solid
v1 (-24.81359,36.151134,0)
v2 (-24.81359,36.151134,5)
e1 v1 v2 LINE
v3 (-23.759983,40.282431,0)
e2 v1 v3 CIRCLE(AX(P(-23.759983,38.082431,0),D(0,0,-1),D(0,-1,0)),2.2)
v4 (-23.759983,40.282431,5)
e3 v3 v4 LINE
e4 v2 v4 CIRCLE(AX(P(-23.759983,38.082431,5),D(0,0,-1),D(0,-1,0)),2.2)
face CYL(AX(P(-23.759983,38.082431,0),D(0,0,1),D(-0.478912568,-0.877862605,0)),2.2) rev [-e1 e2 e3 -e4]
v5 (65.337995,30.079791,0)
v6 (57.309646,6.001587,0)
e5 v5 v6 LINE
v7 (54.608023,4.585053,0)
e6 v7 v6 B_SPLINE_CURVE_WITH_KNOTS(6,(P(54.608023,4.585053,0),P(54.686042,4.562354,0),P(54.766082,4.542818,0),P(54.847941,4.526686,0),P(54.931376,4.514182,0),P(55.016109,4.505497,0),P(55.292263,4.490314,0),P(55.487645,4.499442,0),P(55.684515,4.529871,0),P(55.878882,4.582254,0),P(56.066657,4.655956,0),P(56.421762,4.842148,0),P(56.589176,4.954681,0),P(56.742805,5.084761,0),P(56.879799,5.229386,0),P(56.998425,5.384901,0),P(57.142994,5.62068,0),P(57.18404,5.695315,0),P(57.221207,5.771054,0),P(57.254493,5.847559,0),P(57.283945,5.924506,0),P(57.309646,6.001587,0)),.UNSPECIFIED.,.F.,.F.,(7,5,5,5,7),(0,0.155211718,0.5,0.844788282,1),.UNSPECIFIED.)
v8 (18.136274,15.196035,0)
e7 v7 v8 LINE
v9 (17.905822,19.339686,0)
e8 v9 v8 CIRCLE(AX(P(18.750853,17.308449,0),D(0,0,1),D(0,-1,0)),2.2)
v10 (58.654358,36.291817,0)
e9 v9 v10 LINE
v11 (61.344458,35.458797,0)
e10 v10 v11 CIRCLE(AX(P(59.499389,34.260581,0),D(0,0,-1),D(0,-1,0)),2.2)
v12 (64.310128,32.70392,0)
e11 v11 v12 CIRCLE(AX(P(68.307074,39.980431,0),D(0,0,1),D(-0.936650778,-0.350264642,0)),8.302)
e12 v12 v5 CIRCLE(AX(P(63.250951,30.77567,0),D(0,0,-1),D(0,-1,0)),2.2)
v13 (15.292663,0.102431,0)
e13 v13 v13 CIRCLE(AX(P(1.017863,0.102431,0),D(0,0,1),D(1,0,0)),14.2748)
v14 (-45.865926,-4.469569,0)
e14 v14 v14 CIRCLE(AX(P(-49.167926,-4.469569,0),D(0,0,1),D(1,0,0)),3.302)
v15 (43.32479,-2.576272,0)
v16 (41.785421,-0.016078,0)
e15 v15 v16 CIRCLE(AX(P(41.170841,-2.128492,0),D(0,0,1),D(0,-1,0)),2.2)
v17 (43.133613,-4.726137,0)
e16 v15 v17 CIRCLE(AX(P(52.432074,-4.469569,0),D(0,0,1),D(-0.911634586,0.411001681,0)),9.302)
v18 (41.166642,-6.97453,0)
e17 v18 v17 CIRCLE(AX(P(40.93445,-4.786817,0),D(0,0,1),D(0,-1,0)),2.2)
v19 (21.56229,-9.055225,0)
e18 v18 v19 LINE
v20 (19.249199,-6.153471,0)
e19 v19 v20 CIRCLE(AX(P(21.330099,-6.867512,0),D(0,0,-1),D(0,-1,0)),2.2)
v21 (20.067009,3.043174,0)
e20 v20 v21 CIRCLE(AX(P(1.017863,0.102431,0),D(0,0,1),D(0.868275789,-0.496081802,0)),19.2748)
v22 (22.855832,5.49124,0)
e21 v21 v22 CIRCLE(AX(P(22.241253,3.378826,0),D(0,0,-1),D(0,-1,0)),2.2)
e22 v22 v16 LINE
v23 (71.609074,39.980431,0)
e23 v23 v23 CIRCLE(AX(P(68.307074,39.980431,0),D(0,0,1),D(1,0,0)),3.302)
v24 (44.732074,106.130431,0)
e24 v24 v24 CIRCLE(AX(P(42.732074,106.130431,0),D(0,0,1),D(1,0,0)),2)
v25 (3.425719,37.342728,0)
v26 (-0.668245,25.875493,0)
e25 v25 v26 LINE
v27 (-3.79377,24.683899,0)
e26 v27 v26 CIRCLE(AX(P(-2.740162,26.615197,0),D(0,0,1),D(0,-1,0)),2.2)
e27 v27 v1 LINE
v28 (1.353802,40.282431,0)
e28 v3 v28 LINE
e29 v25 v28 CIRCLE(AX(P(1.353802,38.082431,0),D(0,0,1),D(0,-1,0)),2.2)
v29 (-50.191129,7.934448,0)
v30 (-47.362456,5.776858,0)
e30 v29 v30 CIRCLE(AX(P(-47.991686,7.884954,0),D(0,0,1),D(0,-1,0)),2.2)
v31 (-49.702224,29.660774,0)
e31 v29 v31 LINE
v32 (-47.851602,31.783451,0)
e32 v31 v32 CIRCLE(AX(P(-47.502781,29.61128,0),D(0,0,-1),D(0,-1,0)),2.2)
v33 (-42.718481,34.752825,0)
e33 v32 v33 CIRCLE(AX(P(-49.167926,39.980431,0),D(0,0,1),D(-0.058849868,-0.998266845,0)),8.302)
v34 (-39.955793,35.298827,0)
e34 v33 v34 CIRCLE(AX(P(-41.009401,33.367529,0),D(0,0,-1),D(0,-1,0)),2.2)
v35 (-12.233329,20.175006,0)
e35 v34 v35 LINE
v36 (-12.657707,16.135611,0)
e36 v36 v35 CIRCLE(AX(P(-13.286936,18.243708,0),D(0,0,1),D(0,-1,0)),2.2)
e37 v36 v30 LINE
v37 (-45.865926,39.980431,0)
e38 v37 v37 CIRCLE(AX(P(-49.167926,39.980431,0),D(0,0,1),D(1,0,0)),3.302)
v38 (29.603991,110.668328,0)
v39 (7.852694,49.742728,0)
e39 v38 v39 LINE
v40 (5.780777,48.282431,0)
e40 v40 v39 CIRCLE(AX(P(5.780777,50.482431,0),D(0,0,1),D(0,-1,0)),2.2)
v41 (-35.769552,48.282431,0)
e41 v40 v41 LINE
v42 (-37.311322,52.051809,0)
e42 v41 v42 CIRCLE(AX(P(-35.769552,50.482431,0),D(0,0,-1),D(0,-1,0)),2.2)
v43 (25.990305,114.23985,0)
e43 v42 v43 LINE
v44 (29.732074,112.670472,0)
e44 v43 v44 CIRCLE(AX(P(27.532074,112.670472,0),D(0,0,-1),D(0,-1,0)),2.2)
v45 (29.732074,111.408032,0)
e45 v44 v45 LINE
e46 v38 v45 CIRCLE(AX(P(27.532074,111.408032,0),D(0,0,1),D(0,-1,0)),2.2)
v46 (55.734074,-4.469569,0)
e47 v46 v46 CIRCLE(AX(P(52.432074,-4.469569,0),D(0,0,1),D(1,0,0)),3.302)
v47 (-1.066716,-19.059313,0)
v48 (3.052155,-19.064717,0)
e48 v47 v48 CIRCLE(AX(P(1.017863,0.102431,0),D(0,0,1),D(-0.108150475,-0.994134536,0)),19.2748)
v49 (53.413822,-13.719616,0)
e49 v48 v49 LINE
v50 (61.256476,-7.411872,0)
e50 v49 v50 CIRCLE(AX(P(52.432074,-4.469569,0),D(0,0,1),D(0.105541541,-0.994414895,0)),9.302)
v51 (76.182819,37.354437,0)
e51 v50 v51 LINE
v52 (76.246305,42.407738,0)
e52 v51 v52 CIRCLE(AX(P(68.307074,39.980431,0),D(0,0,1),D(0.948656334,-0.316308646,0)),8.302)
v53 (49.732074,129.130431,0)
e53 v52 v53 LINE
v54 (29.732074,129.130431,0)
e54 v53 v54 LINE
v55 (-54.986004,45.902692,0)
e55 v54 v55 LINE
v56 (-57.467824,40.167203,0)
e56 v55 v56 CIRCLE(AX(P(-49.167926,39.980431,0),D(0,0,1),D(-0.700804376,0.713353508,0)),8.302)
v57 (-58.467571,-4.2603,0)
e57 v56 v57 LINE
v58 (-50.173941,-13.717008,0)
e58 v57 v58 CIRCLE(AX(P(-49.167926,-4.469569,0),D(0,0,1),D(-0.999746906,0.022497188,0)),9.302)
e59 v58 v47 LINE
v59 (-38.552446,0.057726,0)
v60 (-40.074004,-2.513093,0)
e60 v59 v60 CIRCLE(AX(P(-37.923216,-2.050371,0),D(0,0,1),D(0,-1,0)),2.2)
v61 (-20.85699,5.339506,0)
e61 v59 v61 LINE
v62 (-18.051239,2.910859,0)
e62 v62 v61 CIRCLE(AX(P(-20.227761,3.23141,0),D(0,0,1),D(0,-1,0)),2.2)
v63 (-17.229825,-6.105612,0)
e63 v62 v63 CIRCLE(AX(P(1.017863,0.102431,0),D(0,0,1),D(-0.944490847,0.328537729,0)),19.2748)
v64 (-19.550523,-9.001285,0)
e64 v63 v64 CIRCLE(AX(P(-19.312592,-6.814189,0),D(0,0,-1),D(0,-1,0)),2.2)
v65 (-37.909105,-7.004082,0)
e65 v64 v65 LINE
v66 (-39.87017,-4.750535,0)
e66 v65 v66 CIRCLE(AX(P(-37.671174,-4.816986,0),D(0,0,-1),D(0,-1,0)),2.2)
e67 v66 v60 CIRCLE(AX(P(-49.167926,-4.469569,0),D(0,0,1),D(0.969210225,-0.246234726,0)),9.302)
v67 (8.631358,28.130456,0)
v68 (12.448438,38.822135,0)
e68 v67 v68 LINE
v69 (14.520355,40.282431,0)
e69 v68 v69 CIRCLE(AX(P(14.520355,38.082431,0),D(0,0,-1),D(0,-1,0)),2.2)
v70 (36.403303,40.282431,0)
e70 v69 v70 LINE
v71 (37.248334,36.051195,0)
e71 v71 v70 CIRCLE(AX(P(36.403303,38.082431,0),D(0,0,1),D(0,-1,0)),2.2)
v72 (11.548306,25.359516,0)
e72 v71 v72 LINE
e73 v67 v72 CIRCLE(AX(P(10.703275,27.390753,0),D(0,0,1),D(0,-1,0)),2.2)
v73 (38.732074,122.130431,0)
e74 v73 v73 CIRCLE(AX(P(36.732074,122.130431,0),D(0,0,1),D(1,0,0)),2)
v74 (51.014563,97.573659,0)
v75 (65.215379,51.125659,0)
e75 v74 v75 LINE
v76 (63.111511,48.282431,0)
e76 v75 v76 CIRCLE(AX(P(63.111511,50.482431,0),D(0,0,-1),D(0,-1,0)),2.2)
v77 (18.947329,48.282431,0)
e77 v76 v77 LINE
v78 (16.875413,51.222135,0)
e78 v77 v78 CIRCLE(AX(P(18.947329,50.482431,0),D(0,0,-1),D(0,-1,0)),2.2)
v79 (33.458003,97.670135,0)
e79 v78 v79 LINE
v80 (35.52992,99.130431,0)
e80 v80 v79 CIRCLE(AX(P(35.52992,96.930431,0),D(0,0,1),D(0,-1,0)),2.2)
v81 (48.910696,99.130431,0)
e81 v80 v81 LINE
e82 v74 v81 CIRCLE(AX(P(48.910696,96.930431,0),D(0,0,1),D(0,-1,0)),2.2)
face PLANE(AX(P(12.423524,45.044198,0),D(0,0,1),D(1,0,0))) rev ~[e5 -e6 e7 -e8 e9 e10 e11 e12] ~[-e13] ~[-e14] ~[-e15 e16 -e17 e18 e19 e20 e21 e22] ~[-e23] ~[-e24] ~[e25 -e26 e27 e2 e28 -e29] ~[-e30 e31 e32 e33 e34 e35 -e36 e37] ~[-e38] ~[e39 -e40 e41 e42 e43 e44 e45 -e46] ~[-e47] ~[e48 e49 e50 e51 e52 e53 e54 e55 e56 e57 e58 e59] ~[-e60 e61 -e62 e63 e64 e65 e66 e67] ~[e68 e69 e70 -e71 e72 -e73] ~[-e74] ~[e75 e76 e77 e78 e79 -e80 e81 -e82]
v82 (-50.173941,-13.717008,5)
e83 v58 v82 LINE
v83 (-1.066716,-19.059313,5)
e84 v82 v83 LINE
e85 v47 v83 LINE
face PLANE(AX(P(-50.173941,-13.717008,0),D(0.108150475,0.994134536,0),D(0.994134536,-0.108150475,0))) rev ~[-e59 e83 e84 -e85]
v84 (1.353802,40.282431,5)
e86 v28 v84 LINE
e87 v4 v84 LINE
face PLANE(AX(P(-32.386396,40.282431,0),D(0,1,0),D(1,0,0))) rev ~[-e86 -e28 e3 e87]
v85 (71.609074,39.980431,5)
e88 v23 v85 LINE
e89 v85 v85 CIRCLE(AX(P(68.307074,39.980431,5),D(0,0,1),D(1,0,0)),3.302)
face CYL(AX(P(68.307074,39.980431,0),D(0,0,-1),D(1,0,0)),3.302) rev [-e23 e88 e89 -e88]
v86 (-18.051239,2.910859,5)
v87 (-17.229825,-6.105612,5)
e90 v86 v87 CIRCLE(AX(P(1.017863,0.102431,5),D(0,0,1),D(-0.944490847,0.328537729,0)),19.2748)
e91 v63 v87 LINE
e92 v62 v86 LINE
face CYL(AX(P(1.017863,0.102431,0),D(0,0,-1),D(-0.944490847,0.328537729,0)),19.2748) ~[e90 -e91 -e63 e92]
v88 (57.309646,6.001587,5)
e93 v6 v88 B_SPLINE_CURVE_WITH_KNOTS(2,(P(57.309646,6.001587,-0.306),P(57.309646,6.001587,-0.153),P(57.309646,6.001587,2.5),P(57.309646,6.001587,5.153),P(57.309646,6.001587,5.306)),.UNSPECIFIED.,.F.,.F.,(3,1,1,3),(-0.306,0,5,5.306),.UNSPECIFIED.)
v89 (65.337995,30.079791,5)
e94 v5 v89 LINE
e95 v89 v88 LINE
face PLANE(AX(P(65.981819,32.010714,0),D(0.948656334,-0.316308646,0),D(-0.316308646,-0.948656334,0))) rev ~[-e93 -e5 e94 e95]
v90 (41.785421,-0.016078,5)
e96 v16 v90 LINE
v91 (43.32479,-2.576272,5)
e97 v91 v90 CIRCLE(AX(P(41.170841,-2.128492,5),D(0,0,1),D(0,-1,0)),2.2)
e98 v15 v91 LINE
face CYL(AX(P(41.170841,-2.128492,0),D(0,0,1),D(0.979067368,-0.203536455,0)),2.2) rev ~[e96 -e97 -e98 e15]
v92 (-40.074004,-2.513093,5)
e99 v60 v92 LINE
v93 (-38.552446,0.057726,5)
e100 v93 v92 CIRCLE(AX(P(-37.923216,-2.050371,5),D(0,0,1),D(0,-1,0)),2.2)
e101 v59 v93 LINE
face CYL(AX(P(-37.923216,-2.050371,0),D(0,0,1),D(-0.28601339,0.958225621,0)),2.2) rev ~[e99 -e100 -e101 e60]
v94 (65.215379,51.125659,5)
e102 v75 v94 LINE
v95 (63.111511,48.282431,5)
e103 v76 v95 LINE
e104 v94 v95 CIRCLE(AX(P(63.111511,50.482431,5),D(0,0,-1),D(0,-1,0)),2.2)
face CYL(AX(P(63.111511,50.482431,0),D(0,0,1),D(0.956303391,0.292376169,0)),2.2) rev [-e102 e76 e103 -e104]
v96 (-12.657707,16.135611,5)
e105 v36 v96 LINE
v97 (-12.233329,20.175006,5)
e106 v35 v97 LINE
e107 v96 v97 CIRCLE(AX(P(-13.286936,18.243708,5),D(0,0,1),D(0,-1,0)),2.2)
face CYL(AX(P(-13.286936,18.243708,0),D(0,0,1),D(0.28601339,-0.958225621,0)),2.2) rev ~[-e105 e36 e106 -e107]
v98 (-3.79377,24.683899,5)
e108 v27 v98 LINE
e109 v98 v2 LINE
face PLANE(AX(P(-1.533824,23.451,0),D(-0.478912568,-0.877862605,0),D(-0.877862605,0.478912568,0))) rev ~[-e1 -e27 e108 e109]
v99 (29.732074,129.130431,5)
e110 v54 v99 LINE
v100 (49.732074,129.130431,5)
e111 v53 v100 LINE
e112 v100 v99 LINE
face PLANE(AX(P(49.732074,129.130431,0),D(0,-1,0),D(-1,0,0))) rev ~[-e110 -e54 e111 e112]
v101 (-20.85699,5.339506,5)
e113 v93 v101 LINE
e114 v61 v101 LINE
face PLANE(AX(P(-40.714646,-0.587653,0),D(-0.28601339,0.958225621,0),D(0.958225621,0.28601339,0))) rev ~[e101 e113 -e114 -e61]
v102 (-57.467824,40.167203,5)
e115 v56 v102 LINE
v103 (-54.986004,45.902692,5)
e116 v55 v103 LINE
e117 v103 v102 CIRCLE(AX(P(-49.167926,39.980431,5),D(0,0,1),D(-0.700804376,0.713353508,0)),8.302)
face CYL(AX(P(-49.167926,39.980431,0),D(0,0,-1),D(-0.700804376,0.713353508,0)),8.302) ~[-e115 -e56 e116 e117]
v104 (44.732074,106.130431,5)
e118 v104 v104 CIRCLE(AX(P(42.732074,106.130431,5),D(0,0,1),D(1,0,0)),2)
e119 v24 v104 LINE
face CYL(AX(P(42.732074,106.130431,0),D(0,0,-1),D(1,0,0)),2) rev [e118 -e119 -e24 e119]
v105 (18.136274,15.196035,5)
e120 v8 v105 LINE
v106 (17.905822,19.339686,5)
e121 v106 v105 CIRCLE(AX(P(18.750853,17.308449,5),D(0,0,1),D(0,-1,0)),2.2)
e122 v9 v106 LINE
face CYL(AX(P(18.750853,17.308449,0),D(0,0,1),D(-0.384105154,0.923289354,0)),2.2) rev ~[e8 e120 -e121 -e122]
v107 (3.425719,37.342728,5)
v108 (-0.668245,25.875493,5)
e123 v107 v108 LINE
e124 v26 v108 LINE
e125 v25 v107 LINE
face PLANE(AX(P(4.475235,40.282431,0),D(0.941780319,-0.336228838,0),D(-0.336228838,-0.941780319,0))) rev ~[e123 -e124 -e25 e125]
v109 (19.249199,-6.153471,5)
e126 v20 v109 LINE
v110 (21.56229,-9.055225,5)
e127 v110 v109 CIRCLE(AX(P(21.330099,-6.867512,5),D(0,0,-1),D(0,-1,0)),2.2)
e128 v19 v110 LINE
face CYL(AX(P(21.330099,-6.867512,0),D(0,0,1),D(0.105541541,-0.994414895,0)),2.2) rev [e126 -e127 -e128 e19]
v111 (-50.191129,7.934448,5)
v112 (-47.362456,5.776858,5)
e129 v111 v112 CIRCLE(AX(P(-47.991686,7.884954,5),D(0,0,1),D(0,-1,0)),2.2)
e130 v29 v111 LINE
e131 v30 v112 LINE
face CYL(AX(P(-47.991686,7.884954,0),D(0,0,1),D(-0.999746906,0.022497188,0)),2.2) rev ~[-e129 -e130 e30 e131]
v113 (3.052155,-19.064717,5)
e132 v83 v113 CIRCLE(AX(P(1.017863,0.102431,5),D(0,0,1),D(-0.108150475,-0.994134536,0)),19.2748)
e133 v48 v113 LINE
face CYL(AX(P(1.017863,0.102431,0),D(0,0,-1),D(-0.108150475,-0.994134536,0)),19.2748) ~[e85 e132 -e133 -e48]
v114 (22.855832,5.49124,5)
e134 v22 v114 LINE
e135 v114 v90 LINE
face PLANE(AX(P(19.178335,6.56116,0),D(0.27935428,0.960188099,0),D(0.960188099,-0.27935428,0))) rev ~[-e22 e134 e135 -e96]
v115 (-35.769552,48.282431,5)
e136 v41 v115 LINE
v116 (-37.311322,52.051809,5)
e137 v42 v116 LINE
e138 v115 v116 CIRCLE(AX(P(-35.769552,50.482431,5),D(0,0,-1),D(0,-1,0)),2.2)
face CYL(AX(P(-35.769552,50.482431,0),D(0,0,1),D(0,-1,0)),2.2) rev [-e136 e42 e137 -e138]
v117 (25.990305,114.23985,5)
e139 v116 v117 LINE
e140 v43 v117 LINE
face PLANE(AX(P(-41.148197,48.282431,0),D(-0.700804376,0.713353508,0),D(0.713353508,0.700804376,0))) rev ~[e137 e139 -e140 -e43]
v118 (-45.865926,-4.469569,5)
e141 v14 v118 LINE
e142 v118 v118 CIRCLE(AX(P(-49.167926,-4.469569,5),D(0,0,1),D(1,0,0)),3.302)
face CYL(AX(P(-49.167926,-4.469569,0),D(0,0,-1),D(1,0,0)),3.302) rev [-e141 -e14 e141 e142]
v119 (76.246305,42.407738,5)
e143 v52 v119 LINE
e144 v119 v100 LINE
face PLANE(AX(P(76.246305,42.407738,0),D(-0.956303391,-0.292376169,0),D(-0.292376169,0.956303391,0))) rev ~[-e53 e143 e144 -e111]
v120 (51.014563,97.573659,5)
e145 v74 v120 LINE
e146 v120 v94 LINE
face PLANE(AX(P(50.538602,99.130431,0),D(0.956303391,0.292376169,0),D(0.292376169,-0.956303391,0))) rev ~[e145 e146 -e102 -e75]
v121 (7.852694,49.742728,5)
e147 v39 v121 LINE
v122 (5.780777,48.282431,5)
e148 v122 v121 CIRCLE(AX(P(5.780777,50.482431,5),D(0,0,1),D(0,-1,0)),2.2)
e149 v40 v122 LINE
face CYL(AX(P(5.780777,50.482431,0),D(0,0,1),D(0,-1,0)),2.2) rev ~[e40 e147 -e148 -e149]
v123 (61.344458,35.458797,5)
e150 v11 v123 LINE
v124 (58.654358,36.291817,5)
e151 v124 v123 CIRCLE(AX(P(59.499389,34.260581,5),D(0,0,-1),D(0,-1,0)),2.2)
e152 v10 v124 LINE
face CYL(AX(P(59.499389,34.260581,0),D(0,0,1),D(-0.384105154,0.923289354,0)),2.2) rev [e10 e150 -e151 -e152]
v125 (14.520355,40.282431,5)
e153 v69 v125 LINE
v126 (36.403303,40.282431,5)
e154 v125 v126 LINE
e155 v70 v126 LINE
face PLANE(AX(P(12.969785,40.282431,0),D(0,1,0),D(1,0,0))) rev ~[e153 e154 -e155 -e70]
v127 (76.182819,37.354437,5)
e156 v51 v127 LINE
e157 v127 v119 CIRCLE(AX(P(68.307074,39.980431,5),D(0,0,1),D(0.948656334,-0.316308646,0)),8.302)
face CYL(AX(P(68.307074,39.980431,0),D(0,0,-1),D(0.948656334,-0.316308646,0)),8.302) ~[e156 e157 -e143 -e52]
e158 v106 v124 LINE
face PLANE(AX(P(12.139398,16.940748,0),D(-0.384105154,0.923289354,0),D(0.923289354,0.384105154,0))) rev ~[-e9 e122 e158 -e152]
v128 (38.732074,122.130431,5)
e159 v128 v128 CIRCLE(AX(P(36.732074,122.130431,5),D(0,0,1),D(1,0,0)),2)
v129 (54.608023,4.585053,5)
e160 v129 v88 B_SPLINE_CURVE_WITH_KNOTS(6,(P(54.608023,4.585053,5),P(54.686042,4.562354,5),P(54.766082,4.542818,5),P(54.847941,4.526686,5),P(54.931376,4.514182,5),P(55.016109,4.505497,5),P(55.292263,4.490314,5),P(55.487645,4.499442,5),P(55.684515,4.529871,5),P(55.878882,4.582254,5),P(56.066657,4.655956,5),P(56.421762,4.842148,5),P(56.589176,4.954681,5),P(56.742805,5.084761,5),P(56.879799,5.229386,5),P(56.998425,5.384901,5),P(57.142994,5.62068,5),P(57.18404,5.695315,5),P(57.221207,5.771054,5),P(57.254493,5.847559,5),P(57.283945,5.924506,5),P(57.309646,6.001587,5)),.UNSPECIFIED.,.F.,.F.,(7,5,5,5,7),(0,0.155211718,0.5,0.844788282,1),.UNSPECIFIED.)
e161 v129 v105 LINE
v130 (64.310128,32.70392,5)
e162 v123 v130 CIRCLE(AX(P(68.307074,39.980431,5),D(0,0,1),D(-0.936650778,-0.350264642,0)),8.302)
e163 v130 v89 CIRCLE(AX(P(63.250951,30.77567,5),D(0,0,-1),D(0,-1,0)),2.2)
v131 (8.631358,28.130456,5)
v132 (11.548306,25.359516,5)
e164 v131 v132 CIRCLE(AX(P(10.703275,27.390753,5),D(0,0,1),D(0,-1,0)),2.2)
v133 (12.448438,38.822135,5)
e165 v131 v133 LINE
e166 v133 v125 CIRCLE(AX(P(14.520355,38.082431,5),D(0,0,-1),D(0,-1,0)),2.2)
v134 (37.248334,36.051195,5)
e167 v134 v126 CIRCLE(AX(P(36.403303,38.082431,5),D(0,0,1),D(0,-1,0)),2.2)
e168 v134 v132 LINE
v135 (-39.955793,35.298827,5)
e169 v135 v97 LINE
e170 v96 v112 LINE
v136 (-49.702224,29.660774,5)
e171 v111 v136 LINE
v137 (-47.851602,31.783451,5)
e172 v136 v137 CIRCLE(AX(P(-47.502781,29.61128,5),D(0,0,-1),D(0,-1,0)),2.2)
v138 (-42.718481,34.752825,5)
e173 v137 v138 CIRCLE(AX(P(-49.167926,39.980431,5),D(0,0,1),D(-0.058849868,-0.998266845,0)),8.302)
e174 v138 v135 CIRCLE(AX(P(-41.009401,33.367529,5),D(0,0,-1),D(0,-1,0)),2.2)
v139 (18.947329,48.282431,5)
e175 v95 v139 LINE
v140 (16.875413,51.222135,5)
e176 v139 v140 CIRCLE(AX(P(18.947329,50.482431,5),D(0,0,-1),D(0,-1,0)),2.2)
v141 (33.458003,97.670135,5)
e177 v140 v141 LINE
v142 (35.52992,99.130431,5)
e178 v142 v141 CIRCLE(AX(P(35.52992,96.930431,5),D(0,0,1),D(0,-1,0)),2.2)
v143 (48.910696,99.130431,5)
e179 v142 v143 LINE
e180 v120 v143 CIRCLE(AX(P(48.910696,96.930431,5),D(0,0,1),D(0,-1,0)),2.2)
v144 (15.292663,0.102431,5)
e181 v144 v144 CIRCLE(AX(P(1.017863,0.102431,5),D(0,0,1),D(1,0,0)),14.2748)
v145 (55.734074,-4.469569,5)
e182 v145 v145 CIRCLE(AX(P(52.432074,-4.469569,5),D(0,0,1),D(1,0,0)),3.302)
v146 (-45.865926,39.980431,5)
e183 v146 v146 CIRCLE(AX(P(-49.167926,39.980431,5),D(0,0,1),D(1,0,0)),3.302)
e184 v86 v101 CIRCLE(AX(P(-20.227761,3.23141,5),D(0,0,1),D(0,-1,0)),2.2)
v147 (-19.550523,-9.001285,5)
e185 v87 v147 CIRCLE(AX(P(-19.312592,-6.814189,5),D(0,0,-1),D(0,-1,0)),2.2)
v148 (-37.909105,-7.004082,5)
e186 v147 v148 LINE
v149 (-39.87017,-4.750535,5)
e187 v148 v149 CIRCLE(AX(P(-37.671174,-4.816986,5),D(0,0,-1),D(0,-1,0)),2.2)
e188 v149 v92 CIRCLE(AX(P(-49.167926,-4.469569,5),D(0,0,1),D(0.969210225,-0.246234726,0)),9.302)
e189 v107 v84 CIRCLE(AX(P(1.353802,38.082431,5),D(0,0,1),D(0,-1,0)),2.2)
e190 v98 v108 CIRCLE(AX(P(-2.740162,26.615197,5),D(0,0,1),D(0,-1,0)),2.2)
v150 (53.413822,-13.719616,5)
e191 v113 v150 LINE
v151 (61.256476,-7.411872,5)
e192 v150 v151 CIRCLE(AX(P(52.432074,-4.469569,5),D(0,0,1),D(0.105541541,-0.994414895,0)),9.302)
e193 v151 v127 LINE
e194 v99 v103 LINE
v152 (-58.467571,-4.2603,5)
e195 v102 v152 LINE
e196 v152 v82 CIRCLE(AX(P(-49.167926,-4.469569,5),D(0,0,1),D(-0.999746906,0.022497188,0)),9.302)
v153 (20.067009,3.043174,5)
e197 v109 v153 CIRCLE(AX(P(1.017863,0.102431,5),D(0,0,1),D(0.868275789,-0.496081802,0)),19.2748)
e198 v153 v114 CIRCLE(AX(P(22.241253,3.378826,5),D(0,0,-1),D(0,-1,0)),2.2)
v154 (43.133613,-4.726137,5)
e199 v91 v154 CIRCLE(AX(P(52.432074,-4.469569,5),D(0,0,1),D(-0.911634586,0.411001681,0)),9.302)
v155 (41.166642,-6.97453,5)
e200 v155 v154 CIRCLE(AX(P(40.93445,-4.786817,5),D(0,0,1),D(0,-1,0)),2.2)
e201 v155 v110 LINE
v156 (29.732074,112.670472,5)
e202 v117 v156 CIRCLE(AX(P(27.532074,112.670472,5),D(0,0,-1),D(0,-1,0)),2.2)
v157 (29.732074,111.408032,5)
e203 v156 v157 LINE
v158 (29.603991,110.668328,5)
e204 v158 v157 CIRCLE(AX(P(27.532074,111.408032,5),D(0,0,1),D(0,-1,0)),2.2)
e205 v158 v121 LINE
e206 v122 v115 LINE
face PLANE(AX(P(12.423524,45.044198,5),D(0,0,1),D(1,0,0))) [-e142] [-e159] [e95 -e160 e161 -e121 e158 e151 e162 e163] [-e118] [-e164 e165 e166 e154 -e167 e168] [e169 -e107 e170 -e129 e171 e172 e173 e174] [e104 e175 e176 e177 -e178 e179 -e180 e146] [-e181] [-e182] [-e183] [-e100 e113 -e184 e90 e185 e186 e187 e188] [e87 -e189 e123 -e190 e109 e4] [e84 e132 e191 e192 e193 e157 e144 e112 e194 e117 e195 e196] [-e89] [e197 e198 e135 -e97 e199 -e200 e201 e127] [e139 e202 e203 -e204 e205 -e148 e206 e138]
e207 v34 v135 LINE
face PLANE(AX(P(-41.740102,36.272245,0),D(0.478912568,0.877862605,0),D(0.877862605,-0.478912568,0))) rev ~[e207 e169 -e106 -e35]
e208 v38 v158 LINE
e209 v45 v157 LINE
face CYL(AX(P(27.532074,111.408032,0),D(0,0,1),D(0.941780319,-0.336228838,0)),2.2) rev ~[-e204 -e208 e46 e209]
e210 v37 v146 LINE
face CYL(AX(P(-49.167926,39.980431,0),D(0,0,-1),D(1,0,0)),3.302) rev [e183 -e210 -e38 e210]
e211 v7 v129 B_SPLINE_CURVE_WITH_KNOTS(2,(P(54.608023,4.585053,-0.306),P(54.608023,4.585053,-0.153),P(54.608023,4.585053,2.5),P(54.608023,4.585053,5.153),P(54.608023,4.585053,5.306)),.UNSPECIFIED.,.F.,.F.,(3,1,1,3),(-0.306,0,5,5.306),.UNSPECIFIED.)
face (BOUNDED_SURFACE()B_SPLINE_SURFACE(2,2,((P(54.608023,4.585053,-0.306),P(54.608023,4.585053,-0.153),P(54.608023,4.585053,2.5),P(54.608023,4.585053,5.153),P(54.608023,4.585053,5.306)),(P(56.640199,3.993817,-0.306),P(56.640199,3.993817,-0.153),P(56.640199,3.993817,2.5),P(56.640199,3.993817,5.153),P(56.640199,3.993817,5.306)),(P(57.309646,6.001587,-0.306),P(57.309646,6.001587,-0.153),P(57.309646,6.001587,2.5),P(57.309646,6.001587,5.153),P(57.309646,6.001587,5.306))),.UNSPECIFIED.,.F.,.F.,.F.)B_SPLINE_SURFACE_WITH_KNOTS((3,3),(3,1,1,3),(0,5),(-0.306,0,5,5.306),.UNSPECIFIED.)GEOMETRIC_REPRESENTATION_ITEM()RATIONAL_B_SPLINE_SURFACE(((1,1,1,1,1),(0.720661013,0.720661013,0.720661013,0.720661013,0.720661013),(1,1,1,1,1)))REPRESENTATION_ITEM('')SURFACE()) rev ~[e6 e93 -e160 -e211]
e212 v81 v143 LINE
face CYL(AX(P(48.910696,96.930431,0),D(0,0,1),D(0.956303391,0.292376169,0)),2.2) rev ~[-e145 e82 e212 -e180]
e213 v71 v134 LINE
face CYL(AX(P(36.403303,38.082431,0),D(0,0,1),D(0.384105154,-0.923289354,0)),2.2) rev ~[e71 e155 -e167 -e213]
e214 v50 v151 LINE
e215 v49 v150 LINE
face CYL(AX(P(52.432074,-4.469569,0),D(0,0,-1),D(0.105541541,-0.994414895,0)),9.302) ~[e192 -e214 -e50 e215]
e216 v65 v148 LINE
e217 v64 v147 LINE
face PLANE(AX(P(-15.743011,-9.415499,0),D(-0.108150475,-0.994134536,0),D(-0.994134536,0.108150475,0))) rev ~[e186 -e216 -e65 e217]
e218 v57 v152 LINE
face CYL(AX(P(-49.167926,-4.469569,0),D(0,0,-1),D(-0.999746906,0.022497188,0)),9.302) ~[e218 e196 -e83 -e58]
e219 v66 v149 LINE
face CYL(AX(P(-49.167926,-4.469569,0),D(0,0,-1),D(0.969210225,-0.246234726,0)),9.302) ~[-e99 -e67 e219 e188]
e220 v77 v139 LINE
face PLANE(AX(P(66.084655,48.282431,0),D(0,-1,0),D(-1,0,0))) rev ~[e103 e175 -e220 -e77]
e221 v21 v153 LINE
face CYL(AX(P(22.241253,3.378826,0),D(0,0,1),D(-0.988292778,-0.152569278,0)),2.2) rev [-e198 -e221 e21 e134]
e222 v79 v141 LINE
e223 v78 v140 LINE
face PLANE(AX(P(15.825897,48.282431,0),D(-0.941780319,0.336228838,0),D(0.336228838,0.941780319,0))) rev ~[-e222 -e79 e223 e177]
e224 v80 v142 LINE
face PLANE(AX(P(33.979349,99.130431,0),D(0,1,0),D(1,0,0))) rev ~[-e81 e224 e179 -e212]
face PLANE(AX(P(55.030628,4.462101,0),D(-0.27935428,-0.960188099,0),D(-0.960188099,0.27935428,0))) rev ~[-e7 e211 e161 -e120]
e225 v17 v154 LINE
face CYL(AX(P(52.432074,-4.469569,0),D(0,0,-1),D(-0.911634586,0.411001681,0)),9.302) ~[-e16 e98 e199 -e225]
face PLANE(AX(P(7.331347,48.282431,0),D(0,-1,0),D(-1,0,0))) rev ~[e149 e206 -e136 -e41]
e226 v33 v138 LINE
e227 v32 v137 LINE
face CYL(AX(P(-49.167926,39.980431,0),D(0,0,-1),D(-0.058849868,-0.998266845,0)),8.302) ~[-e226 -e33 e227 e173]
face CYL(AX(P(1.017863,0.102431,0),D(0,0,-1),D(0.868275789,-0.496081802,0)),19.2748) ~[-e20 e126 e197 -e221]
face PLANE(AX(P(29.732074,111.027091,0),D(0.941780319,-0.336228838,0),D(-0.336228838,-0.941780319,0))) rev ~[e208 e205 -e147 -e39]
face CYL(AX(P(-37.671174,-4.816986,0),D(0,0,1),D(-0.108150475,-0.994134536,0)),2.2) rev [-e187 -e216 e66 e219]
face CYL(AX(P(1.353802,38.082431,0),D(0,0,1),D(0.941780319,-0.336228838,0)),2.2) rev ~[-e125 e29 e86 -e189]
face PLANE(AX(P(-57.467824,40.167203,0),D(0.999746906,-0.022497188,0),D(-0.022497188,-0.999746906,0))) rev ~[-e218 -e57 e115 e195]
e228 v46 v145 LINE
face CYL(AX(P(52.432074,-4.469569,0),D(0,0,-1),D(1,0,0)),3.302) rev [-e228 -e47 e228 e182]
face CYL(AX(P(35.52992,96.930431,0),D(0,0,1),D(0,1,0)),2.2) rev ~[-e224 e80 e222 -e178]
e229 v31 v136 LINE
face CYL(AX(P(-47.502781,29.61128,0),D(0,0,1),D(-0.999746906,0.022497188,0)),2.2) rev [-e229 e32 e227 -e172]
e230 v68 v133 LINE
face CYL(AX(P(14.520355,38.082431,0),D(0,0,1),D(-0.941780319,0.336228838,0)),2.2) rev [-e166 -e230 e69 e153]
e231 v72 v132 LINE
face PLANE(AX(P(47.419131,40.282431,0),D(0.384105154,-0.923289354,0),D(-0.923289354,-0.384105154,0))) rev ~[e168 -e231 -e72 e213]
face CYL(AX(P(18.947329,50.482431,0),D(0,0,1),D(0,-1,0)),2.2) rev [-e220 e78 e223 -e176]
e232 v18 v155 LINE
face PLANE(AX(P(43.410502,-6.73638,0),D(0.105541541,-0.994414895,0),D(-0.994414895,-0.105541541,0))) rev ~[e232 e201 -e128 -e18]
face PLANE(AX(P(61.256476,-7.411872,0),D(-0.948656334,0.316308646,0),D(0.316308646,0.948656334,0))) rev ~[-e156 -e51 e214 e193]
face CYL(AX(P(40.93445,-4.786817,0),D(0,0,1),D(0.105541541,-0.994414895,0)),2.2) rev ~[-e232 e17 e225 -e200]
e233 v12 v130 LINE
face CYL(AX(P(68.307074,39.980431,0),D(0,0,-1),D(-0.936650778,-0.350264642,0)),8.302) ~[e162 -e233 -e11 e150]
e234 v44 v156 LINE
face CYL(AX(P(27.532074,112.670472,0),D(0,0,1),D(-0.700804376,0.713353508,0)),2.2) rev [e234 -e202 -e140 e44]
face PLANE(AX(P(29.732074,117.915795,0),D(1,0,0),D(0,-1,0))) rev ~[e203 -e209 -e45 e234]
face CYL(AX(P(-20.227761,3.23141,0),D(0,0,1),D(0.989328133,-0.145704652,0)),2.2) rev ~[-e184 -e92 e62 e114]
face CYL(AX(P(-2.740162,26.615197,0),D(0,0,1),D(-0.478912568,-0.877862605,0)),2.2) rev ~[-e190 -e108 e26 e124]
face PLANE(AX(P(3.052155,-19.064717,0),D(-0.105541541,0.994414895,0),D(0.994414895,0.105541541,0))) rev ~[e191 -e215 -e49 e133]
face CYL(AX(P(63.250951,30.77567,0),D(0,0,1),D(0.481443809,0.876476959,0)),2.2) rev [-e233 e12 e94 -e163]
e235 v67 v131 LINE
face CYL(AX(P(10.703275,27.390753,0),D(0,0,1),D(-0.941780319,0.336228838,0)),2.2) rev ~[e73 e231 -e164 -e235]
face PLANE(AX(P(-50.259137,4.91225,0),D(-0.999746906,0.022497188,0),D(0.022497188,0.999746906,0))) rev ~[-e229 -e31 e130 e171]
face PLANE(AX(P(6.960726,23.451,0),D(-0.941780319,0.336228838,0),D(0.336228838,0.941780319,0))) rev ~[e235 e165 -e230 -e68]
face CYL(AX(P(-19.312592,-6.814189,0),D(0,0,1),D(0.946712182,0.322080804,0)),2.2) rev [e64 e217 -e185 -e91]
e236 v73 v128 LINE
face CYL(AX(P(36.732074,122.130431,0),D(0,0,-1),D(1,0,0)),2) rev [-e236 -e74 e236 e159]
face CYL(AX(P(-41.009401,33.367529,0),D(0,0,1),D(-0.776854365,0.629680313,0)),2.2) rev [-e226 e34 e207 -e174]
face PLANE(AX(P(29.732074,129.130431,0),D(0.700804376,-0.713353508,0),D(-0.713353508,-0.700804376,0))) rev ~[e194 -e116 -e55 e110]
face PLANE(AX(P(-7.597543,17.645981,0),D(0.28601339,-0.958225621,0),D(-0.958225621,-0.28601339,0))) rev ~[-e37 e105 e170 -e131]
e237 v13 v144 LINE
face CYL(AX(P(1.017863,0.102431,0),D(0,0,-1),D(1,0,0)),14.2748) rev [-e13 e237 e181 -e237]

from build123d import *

# Parameters (mm, degrees)
SKETCH1_R           = 3.302
SKETCH1_R_2         = 14.2748
SKETCH1_R_3         = 2
BOSS_EXTRUDE1_DEPTH = 5
FILLET1_R           = 2.2


with BuildPart() as part:
    # Sketch1 → Boss-Extrude1 (new body)
    with BuildSketch(Plane.XY):
        with BuildLine():
            Line((49.732074359, 129.130431425), (29.732074359, 129.130431425))
            Line((29.732074359, 129.130431425), (-54.986003567, 45.902692248))
            ThreePointArc((-54.986003567, 45.902692248), (-56.787195673, 43.277388838), (-57.467824457, 40.167203079))
            Line((-57.467824457, 40.167203079), (-58.467571363, -4.260299734))
            ThreePointArc((-58.467571363, -4.260299734), (-56.161422432, -10.602936869), (-50.173941362, -13.717008024))
            Line((-50.173941362, -13.717008024), (-1.066715703, -19.05931292))
            ThreePointArc((-1.066715703, -19.05931292), (0.992574977, -19.172351986), (3.052155178, -19.06471679))
            Line((3.052155178, -19.06471679), (53.413821776, -13.719615927))
            ThreePointArc((53.413821776, -13.719615927), (58.261915472, -11.718027487), (61.25647558, -7.411871598))
            Line((61.25647558, -7.411871598), (76.182819246, 37.354437047))
            ThreePointArc((76.182819246, 37.354437047), (76.608419263, 39.876139592), (76.246305111, 42.407738382))
            Line((76.246305111, 42.407738382), (49.732074359, 129.130431425))
        make_face()
        with Locations((-49.167925641, -4.469568575)):
            Circle(SKETCH1_R, mode=Mode.SUBTRACT)
        with BuildLine():
            Line((-15.743011398, -9.415499117), (-40.152332132, -6.760044))
            ThreePointArc((-40.152332132, -6.760044), (-39.904287902, -3.625637398), (-40.714646148, -0.587652835))
            Line((-40.714646148, -0.587652835), (-17.187009107, 6.434930438))
            ThreePointArc((-17.187009107, 6.434930438), (-18.177445963, -1.64628978), (-15.743011398, -9.415499117))
        make_face(mode=Mode.SUBTRACT)
        with Locations((1.017863078, 0.102431425)):
            Circle(SKETCH1_R_2, mode=Mode.SUBTRACT)
        with BuildLine():
            ThreePointArc((-49.656497245, 31.692820081), (-45.010872906, 32.79418647), (-41.740102305, 36.27224528))
            Line((-41.740102305, 36.27224528), (-7.597542604, 17.645980927))
            Line((-7.597542604, 17.645980927), (-50.259137287, 4.912249924))
            Line((-50.259137287, 4.912249924), (-49.656497245, 31.692820081))
        make_face(mode=Mode.SUBTRACT)
        with Locations((-49.167925641, 39.980431425)):
            Circle(SKETCH1_R, mode=Mode.SUBTRACT)
        Polygon((-32.386395914, 40.282431425), (4.475234555, 40.282431425), (-1.533823666, 23.450999579), align=None, mode=Mode.SUBTRACT)
        with BuildLine():
            ThreePointArc((60.530999596, 37.07253437), (62.657762713, 33.896971725), (65.981819268, 32.010714193))
            Line((65.981819268, 32.010714193), (56.592331805, 3.850254859))
            ThreePointArc((56.592331805, 3.850254859), (55.825298544, 4.191449473), (55.030627874, 4.462101125))
            Line((55.030627874, 4.462101125), (12.139397937, 16.940748464))
            Line((12.139397937, 16.940748464), (60.530999596, 37.07253437))
        make_face(mode=Mode.SUBTRACT)
        with BuildLine():
            ThreePointArc((17.753705258, -9.459446089), (20.216903145, -1.60483995), (19.178334944, 6.561160143))
            Line((19.178334944, 6.561160143), (43.95204944, -0.646430941))
            ThreePointArc((43.95204944, -0.646430941), (43.16663603, -3.645641046), (43.410501788, -6.736379627))
            Line((43.410501788, -6.736379627), (17.753705258, -9.459446089))
        make_face(mode=Mode.SUBTRACT)
        with Locations((52.432074359, -4.469568575)):
            Circle(SKETCH1_R, mode=Mode.SUBTRACT)
        Polygon((12.969784548, 40.282431425), (47.419131213, 40.282431425), (6.960726327, 23.450999579), align=None, mode=Mode.SUBTRACT)
        with Locations((68.307074359, 39.980431425)):
            Circle(SKETCH1_R, mode=Mode.SUBTRACT)
        Polygon((-41.148197142, 48.282431425), (29.732074359, 117.915795328), (29.732074359, 111.027090937), (7.331347226, 48.282431425), align=None, mode=Mode.SUBTRACT)
        Polygon((66.084655222, 48.282431425), (15.825897219, 48.282431425), (33.979349356, 99.130431425), (50.538601957, 99.130431425), align=None, mode=Mode.SUBTRACT)
        with Locations((36.732074359, 122.130431425)):
            Circle(SKETCH1_R_3, mode=Mode.SUBTRACT)
        with Locations((42.732074359, 106.130431425)):
            Circle(SKETCH1_R_3, mode=Mode.SUBTRACT)
    extrude(amount=BOSS_EXTRUDE1_DEPTH)

    # Fillet1
    fillet1_edges = [part.edges().sort_by_distance(p)[0] for p in [
        (43.95204944, -0.646430941, 2.5),
        (43.410501788, -6.736379627, 2.5),
        (-40.152332132, -6.760044, 2.5),
        (-40.714646148, -0.587652835, 2.5),
        (-41.148197142, 48.282431425, 2.5),
        (7.331347226, 48.282431425, 2.5),
        (66.084655222, 48.282431425, 2.5),
        (6.960726327, 23.450999579, 2.5),
        (47.419131213, 40.282431425, 2.5),
        (-49.656497245, 31.692820081, 2.5),
        (-41.740102305, 36.27224528, 2.5),
        (-50.259137287, 4.912249924, 2.5),
        (-32.386395914, 40.282431425, 2.5),
        (4.475234555, 40.282431425, 2.5),
        (12.969784548, 40.282431425, 2.5),
        (12.139397937, 16.940748464, 2.5),
        (60.530999596, 37.07253437, 2.5),
        (65.981819268, 32.010714193, 2.5),
        (56.592331805, 3.850254859, 2.5),
        (17.753705258, -9.459446089, 2.5),
        (19.178334944, 6.561160143, 2.5),
        (-15.743011398, -9.415499117, 2.5),
        (-17.187009107, 6.434930438, 2.5),
        (-7.597542604, 17.645980927, 2.5),
        (-1.533823666, 23.450999579, 2.5),
        (33.979349356, 99.130431425, 2.5),
        (15.825897219, 48.282431425, 2.5),
        (50.538601957, 99.130431425, 2.5),
        (29.732074359, 117.915795328, 2.5),
        (29.732074359, 111.027090937, 2.5),
    ]]
    fillet(fillet1_edges, radius=FILLET1_R)


solid = part.part
